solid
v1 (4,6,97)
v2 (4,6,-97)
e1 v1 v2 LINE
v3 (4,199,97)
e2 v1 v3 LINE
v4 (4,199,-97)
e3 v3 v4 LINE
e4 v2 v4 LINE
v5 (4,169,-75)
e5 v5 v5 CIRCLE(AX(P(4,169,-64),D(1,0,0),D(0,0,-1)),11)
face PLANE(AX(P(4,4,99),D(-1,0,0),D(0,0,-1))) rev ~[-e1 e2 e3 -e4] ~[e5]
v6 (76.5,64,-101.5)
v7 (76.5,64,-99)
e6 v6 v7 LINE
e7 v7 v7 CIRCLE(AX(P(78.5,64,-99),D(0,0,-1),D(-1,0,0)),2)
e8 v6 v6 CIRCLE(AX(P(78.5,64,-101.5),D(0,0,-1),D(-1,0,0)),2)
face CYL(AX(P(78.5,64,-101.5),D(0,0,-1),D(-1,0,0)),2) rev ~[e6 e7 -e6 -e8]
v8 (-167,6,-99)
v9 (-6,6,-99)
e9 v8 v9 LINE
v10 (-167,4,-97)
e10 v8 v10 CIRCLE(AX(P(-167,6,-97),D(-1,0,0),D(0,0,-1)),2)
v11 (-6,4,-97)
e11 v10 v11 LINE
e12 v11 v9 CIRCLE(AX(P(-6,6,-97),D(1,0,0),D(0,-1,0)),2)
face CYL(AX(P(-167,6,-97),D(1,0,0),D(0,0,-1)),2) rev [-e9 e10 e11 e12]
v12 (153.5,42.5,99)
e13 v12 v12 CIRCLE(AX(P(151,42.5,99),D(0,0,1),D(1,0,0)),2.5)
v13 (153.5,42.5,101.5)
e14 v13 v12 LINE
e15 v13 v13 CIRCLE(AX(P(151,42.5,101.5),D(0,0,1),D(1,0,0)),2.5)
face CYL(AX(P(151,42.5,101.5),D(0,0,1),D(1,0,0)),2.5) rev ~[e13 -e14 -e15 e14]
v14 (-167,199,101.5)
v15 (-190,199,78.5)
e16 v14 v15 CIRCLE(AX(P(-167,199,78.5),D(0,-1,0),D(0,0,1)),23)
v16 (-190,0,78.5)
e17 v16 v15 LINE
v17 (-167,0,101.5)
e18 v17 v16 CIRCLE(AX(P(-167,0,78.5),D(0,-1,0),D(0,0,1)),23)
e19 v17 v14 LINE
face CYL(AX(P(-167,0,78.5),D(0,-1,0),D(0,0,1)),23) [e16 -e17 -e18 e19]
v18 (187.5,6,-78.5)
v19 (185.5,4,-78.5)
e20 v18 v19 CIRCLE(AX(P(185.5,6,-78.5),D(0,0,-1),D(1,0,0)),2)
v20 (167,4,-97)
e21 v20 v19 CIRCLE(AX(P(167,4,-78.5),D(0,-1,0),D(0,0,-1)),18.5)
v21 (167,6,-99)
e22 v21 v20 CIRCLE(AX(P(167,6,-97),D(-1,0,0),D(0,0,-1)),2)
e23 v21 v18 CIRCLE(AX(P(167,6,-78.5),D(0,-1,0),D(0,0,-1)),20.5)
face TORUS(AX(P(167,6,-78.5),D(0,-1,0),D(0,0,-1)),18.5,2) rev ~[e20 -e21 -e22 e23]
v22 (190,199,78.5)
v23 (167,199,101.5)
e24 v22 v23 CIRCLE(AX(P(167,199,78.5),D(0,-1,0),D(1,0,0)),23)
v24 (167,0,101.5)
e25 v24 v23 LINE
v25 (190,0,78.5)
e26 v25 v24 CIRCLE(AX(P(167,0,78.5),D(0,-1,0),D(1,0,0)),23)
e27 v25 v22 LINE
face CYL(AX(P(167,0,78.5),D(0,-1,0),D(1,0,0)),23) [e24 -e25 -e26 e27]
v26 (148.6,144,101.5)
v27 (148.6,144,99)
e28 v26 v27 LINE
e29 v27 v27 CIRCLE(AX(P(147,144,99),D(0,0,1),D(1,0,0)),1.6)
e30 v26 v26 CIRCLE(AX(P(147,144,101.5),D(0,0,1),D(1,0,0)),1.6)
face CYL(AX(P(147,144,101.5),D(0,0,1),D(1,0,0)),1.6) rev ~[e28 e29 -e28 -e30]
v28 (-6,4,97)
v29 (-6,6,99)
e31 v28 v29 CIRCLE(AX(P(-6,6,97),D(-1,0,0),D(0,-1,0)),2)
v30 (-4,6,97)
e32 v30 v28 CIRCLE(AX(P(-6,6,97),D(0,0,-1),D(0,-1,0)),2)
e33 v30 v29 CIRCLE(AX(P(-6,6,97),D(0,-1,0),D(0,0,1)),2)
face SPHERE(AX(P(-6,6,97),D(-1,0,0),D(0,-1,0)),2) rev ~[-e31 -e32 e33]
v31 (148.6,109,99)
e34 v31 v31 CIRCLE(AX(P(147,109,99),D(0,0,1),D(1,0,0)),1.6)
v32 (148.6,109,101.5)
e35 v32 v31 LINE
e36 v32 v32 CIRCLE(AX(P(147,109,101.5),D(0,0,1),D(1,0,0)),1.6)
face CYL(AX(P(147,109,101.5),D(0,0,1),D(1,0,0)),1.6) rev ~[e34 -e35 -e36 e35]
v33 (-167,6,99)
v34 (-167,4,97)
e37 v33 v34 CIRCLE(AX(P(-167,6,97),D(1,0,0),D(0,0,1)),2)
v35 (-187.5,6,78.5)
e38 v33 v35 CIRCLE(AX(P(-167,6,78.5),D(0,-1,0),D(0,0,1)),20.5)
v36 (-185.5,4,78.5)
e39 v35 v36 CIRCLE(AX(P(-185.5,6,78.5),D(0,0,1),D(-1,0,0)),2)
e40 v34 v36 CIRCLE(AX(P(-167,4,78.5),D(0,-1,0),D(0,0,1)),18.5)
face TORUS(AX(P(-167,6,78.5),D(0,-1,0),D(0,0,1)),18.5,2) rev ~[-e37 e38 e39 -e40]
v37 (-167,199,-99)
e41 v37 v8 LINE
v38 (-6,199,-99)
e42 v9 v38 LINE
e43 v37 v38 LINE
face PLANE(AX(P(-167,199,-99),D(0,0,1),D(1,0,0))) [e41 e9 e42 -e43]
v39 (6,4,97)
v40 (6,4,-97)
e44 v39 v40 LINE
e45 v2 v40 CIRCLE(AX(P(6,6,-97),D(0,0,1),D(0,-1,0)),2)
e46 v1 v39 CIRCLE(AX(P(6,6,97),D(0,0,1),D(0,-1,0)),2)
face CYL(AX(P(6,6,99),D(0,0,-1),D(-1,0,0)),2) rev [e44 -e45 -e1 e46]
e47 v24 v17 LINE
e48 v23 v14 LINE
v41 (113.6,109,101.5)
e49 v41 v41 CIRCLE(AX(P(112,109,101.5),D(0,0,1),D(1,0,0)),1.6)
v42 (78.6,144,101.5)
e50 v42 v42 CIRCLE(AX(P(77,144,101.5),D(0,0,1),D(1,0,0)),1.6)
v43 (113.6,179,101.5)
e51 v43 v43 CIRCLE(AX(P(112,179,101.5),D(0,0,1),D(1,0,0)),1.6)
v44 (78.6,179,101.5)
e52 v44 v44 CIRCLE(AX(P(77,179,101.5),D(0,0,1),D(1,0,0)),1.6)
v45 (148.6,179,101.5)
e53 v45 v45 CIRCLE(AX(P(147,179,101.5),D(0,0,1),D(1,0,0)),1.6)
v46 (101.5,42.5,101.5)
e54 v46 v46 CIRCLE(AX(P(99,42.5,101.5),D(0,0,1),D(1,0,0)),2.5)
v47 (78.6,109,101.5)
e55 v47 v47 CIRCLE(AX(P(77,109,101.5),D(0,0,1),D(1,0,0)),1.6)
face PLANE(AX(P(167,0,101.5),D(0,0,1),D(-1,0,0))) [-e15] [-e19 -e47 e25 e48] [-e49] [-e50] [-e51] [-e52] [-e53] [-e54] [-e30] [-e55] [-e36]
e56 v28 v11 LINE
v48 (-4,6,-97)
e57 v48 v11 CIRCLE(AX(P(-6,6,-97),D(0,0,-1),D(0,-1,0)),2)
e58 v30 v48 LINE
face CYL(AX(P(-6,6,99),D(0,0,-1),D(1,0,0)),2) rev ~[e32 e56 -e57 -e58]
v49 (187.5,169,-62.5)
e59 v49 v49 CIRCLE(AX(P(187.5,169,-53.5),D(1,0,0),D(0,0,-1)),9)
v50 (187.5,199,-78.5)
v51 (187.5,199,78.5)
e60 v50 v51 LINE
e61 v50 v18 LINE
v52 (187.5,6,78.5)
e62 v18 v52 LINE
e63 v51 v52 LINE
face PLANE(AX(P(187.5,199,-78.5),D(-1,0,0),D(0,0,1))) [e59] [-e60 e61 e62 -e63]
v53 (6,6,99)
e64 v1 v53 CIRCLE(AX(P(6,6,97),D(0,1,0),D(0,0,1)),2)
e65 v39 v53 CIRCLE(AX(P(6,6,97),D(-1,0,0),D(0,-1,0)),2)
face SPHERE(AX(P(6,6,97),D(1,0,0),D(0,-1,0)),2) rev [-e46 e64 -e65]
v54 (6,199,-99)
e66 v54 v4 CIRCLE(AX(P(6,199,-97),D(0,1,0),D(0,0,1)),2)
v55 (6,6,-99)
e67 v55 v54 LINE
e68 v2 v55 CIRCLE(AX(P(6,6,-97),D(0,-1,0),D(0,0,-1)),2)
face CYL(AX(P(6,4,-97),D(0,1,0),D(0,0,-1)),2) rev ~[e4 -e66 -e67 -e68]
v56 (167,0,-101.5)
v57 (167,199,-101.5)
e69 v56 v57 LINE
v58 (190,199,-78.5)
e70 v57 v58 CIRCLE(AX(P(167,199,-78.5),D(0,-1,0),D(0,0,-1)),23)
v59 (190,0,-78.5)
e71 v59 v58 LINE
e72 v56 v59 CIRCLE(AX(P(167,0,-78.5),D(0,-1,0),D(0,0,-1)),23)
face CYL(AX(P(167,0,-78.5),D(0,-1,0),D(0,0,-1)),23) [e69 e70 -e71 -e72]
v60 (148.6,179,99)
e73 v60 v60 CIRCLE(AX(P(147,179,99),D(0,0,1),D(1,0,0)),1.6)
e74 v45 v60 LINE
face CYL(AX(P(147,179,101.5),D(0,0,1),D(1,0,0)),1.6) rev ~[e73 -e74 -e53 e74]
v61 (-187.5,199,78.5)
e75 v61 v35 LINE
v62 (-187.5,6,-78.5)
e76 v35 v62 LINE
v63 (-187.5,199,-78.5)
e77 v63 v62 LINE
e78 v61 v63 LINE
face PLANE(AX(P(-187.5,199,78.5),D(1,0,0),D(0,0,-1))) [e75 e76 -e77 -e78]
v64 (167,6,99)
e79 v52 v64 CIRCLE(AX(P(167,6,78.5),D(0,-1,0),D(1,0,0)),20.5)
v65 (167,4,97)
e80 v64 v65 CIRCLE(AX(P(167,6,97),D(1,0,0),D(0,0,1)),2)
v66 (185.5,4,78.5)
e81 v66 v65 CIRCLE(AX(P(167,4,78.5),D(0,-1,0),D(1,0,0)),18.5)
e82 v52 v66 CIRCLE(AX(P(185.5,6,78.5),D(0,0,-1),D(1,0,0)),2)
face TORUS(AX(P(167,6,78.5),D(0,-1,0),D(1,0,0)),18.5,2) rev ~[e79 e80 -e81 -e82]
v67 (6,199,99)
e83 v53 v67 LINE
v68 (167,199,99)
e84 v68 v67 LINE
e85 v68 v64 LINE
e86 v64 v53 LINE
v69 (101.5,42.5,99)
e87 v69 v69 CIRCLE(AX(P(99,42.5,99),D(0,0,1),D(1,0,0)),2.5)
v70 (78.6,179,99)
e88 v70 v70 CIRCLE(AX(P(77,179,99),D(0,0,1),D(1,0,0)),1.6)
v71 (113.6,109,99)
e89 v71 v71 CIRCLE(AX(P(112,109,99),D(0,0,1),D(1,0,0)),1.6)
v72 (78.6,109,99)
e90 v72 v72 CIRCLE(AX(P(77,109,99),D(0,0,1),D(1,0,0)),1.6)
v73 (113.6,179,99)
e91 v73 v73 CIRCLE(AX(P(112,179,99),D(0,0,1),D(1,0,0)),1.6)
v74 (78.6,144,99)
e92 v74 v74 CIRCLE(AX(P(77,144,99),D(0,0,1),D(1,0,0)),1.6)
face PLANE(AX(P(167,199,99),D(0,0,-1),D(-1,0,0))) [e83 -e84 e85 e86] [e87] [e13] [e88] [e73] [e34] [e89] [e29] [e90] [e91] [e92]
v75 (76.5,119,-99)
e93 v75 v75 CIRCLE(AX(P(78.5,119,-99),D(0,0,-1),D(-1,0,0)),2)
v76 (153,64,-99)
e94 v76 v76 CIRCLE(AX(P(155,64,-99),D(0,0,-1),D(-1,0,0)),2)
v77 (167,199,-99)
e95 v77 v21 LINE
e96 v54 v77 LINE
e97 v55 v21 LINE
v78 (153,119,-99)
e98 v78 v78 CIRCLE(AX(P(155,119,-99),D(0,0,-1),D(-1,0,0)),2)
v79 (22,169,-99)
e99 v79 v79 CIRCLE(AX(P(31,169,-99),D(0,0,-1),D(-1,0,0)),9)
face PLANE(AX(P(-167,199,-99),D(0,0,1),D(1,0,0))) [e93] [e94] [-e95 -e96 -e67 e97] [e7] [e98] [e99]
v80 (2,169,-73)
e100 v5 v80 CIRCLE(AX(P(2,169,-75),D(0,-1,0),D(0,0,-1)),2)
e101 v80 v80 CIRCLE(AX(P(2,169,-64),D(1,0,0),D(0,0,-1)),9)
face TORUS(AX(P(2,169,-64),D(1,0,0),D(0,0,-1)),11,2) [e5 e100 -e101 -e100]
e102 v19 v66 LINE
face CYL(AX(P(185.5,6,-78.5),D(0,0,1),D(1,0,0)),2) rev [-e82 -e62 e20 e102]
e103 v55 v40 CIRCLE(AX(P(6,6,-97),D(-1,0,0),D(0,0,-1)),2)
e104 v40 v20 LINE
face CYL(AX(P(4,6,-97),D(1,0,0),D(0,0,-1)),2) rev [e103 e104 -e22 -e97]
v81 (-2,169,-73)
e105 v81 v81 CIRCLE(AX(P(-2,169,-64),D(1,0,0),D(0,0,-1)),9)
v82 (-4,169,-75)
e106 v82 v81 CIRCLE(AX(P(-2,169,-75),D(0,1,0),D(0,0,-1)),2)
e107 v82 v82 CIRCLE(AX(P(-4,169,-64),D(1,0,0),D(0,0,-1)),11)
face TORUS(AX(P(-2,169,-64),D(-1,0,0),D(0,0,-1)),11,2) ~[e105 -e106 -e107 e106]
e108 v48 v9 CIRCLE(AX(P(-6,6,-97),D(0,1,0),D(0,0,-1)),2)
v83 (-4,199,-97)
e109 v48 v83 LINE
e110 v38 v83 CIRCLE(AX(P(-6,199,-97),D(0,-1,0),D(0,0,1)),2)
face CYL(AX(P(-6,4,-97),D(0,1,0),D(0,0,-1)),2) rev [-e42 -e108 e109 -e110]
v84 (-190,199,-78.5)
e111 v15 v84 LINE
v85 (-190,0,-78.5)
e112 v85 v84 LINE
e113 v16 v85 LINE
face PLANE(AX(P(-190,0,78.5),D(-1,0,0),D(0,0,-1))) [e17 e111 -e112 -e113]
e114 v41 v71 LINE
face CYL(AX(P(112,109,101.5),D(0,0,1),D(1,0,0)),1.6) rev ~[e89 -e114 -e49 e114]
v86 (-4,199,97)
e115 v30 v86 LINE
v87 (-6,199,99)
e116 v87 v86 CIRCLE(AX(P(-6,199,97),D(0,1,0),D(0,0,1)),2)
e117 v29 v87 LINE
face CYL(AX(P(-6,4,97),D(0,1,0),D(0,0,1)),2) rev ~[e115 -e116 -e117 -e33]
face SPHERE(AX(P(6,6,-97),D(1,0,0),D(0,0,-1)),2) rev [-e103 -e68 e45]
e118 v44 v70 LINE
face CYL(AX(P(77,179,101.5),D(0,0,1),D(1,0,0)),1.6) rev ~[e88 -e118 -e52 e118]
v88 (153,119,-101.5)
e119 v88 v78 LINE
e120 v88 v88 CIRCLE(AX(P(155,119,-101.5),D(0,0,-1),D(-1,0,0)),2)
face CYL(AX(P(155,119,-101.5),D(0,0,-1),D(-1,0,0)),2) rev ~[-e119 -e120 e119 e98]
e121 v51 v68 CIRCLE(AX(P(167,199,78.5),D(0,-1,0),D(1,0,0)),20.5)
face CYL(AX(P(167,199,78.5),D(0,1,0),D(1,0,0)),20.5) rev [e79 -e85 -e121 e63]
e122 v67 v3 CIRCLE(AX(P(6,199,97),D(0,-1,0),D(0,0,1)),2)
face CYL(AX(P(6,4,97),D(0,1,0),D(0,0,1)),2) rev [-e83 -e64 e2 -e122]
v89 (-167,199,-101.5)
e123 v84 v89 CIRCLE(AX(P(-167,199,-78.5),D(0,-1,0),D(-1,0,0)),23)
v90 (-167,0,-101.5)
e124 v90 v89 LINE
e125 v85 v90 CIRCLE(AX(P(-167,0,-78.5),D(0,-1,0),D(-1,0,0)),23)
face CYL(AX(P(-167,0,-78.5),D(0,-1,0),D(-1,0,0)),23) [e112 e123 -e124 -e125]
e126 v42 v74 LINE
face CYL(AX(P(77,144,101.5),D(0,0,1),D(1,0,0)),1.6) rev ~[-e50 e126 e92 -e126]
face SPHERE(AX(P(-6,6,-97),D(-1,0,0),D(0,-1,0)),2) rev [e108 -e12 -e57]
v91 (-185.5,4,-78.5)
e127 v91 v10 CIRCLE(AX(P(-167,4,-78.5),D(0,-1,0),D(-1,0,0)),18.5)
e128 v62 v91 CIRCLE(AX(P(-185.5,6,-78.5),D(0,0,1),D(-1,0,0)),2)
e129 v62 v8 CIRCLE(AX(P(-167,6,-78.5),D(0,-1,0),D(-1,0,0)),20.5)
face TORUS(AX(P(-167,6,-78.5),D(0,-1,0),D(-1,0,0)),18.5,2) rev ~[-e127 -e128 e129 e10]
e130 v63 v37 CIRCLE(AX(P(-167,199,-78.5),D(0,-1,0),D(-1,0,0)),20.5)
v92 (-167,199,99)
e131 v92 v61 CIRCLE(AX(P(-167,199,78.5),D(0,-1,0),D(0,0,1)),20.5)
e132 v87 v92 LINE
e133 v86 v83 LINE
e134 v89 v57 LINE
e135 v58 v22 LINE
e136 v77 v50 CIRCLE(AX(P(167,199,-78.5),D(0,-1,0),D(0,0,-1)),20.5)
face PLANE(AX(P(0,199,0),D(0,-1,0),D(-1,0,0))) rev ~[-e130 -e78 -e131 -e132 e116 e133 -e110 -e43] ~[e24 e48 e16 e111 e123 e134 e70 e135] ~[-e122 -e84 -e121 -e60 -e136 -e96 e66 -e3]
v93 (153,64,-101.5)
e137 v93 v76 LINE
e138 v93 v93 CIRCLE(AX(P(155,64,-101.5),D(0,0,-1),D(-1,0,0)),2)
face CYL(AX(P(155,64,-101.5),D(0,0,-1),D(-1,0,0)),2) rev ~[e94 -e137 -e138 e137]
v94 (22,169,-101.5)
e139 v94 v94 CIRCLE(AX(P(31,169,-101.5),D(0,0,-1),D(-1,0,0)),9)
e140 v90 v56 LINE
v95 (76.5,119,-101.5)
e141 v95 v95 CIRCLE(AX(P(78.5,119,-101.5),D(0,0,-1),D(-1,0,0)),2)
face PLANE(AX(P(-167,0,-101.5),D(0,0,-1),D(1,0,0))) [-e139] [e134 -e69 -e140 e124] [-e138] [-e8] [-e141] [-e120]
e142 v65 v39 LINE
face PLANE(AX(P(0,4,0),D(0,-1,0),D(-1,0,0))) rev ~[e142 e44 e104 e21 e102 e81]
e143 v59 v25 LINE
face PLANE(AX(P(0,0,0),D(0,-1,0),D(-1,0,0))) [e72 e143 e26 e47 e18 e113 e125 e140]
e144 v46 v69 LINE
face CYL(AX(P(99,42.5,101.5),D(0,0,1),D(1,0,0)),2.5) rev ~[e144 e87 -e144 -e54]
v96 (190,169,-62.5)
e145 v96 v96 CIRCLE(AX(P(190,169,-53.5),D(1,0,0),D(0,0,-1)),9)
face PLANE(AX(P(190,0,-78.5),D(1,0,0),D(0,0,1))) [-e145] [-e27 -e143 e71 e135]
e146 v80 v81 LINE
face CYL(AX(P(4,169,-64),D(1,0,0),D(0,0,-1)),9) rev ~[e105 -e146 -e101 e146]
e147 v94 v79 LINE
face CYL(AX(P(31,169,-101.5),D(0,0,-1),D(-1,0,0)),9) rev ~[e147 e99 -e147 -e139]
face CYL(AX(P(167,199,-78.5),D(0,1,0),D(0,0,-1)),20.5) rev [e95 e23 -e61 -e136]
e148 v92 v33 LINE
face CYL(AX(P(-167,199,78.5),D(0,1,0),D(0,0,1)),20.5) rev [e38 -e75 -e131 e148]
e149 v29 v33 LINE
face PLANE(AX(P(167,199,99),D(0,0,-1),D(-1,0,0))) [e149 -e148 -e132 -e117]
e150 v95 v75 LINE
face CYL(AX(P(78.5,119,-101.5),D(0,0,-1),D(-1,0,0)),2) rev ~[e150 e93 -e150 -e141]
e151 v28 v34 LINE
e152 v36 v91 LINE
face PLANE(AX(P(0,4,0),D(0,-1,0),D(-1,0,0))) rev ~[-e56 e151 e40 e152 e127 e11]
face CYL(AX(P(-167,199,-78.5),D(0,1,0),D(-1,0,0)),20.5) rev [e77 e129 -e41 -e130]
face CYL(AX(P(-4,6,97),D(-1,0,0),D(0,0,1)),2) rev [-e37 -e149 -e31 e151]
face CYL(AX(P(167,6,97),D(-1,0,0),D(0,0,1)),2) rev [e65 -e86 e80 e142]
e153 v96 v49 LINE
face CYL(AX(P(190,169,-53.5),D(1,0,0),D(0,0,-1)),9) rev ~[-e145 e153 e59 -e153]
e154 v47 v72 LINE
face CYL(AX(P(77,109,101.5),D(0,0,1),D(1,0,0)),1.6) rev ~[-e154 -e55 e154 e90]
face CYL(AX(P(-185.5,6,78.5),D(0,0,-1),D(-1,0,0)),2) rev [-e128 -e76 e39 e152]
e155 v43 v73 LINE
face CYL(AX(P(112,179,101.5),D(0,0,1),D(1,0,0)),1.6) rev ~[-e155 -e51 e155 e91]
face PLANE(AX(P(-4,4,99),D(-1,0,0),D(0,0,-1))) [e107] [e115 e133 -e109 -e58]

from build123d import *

# Parameters (mm, degrees)
EXTRUDE_1_DEPTH     = 199
CUT_EXTRUDE_1_DEPTH = 195
SKETCH_4_W          = 8
SKETCH_4_H          = 198
EXTRUDE_2_DEPTH     = 195
FILLET_1_R          = 2
CUT_EXTRUDE_2_REACH = 343.921
SKETCH_6_R          = 2
SKETCH_6_R_2        = 9
CUT_EXTRUDE_3_REACH = 297.87
SKETCH_7_R          = 9
FILLET_2_R          = 2
CUT_EXTRUDE_4_REACH = 442.798
SKETCH_9_R          = 9
CUT_EXTRUDE_5_REACH = 343.921
SKETCH_11_R         = 1.6
CUT_EXTRUDE_6_REACH = 343.921
SKETCH_12_R         = 1.6
CUT_EXTRUDE_7_REACH = 343.921
SKETCH_13_R         = 2.5


with BuildPart() as part:
    # 草图1 → 凸台-拉伸1 (new body)
    with BuildSketch(Plane(origin=(0, 0, 0), x_dir=(1, 0, 0), z_dir=(0, 1, 0))):
        with BuildLine():
            Line((-167, 101.5), (167, 101.5))
            ThreePointArc((167, 101.5), (183.263455967, 94.763455967), (190, 78.5))
            Line((190, 78.5), (190, -78.5))
            ThreePointArc((190, -78.5), (183.263455967, -94.763455967), (167, -101.5))
            Line((167, -101.5), (-167, -101.5))
            ThreePointArc((-167, -101.5), (-183.263455967, -94.763455967), (-190, -78.5))
            Line((-190, -78.5), (-190, 78.5))
            ThreePointArc((-190, 78.5), (-183.263455967, 94.763455967), (-167, 101.5))
        make_face()
    extrude(amount=EXTRUDE_1_DEPTH)

    # 草图3 → 切除-拉伸1 (cut)
    with BuildSketch(Plane(origin=(0, 199, 0), x_dir=(1, 0, 0), z_dir=(0, 1, 0))):
        with BuildLine():
            Line((-167, 99), (167, 99))
            ThreePointArc((167, 99), (181.495689014, 92.995689014), (187.5, 78.5))
            Line((187.5, 78.5), (187.5, -78.5))
            ThreePointArc((187.5, -78.5), (181.495689014, -92.995689014), (167, -99))
            Line((167, -99), (-167, -99))
            ThreePointArc((-167, -99), (-181.495689014, -92.995689014), (-187.5, -78.5))
            Line((-187.5, -78.5), (-187.5, 78.5))
            ThreePointArc((-187.5, 78.5), (-181.495689014, 92.995689014), (-167, 99))
        make_face()
    extrude(amount=-CUT_EXTRUDE_1_DEPTH, mode=Mode.SUBTRACT)

    # 草图4 → 凸台-拉伸2 (add)
    with BuildSketch(Plane(origin=(0, 4, 0), x_dir=(1, 0, 0), z_dir=(0, 1, 0))):
        Rectangle(SKETCH_4_W, SKETCH_4_H)
    extrude(amount=EXTRUDE_2_DEPTH)

    # 圆角1
    fillet_1_edges = [part.edges().sort_by_distance(p)[0] for p in [
        (-181.495689014, 4, 92.995689014),
        (-187.5, 4, 0),
        (-181.495689014, 4, -92.995689014),
        (85.5, 4, -99),
        (181.495689014, 4, -92.995689014),
        (187.5, 4, 0),
        (181.495689014, 4, 92.995689014),
        (-85.5, 4, 99),
        (85.5, 4, 99),
        (-85.5, 4, -99),
        (4, 101.5, -99),
        (-4, 4, 0),
        (-4, 101.5, -99),
        (-4, 101.5, 99),
        (4, 4, 0),
        (4, 101.5, 99),
    ]]
    fillet(fillet_1_edges, radius=FILLET_1_R)

    # 草图6 → 切除-拉伸2 (cut, up to next)
    with BuildSketch(Plane(origin=(0, 0, -101.5), x_dir=(-1, 0, 0), z_dir=(0, 0, -1)), mode=Mode.PRIVATE) as cut_extrude_2_sk1:
        with Locations((-155, 119)):
            Circle(SKETCH_6_R)
    cut_extrude_2_tool1 = extrude(cut_extrude_2_sk1.sketch, amount=-CUT_EXTRUDE_2_REACH, mode=Mode.PRIVATE) & part.part
    # 草图6 → 切除-拉伸2 (cut, up to next)
    with BuildSketch(Plane(origin=(0, 0, -101.5), x_dir=(-1, 0, 0), z_dir=(0, 0, -1)), mode=Mode.PRIVATE) as cut_extrude_2_sk2:
        with Locations((-155, 64)):
            Circle(SKETCH_6_R)
    cut_extrude_2_tool2 = extrude(cut_extrude_2_sk2.sketch, amount=-CUT_EXTRUDE_2_REACH, mode=Mode.PRIVATE) & part.part
    # 草图6 → 切除-拉伸2 (cut, up to next)
    with BuildSketch(Plane(origin=(0, 0, -101.5), x_dir=(-1, 0, 0), z_dir=(0, 0, -1)), mode=Mode.PRIVATE) as cut_extrude_2_sk3:
        with Locations((-78.5, 64)):
            Circle(SKETCH_6_R)
    cut_extrude_2_tool3 = extrude(cut_extrude_2_sk3.sketch, amount=-CUT_EXTRUDE_2_REACH, mode=Mode.PRIVATE) & part.part
    # 草图6 → 切除-拉伸2 (cut, up to next)
    with BuildSketch(Plane(origin=(0, 0, -101.5), x_dir=(-1, 0, 0), z_dir=(0, 0, -1)), mode=Mode.PRIVATE) as cut_extrude_2_sk4:
        with Locations((-78.5, 119)):
            Circle(SKETCH_6_R)
    cut_extrude_2_tool4 = extrude(cut_extrude_2_sk4.sketch, amount=-CUT_EXTRUDE_2_REACH, mode=Mode.PRIVATE) & part.part
    # 草图6 → 切除-拉伸2 (cut, up to next)
    with BuildSketch(Plane(origin=(0, 0, -101.5), x_dir=(-1, 0, 0), z_dir=(0, 0, -1)), mode=Mode.PRIVATE) as cut_extrude_2_sk5:
        with Locations((-31, 169)):
            Circle(SKETCH_6_R_2)
    cut_extrude_2_tool5 = extrude(cut_extrude_2_sk5.sketch, amount=-CUT_EXTRUDE_2_REACH, mode=Mode.PRIVATE) & part.part
    add(cut_extrude_2_tool1.solids().sort_by_distance((155, 119, -101.5))[0], mode=Mode.SUBTRACT)
    add(cut_extrude_2_tool2.solids().sort_by_distance((155, 64, -101.5))[0], mode=Mode.SUBTRACT)
    add(cut_extrude_2_tool3.solids().sort_by_distance((78.5, 64, -101.5))[0], mode=Mode.SUBTRACT)
    add(cut_extrude_2_tool4.solids().sort_by_distance((78.5, 119, -101.5))[0], mode=Mode.SUBTRACT)
    add(cut_extrude_2_tool5.solids().sort_by_distance((31, 169, -101.5))[0], mode=Mode.SUBTRACT)

    # 草图7 → 切除-拉伸3 (cut, up to next)
    with BuildSketch(Plane(origin=(4, 0, 0), x_dir=(0, 0, -1), z_dir=(1, 0, 0)), mode=Mode.PRIVATE) as cut_extrude_3_sk1:
        with Locations((64, 169)):
            Circle(SKETCH_7_R)
    cut_extrude_3_tool1 = extrude(cut_extrude_3_sk1.sketch, amount=-CUT_EXTRUDE_3_REACH, mode=Mode.PRIVATE) & part.part
    add(cut_extrude_3_tool1.solids().sort_by_distance((4, 169, -64))[0], mode=Mode.SUBTRACT)

    # 圆角2
    fillet_2_edges = [part.edges().sort_by_distance(p)[0] for p in [
        (-4, 169, -55),
        (4, 169, -55),
    ]]
    fillet(fillet_2_edges, radius=FILLET_2_R)

    # 草图9 → 切除-拉伸4 (cut, up to next)
    with BuildSketch(Plane(origin=(190, 0, 0), x_dir=(0, 0, -1), z_dir=(1, 0, 0)), mode=Mode.PRIVATE) as cut_extrude_4_sk1:
        with Locations((53.5, 169)):
            Circle(SKETCH_9_R)
    cut_extrude_4_tool1 = extrude(cut_extrude_4_sk1.sketch, amount=-CUT_EXTRUDE_4_REACH, mode=Mode.PRIVATE) & part.part
    add(cut_extrude_4_tool1.solids().sort_by_distance((190, 169, -53.5))[0], mode=Mode.SUBTRACT)

    # 草图11 → 切除-拉伸5 (cut, up to next)
    with BuildSketch(Plane.XY.offset(101.5), mode=Mode.PRIVATE) as cut_extrude_5_sk1:
        with Locations((77, 179)):
            Circle(SKETCH_11_R)
    cut_extrude_5_tool1 = extrude(cut_extrude_5_sk1.sketch, amount=-CUT_EXTRUDE_5_REACH, mode=Mode.PRIVATE) & part.part
    # 草图11 → 切除-拉伸5 (cut, up to next)
    with BuildSketch(Plane.XY.offset(101.5), mode=Mode.PRIVATE) as cut_extrude_5_sk2:
        with Locations((147, 179)):
            Circle(SKETCH_11_R)
    cut_extrude_5_tool2 = extrude(cut_extrude_5_sk2.sketch, amount=-CUT_EXTRUDE_5_REACH, mode=Mode.PRIVATE) & part.part
    # 草图11 → 切除-拉伸5 (cut, up to next)
    with BuildSketch(Plane.XY.offset(101.5), mode=Mode.PRIVATE) as cut_extrude_5_sk3:
        with Locations((77, 109)):
            Circle(SKETCH_11_R)
    cut_extrude_5_tool3 = extrude(cut_extrude_5_sk3.sketch, amount=-CUT_EXTRUDE_5_REACH, mode=Mode.PRIVATE) & part.part
    # 草图11 → 切除-拉伸5 (cut, up to next)
    with BuildSketch(Plane.XY.offset(101.5), mode=Mode.PRIVATE) as cut_extrude_5_sk4:
        with Locations((147, 109)):
            Circle(SKETCH_11_R)
    cut_extrude_5_tool4 = extrude(cut_extrude_5_sk4.sketch, amount=-CUT_EXTRUDE_5_REACH, mode=Mode.PRIVATE) & part.part
    add(cut_extrude_5_tool1.solids().sort_by_distance((77, 179, 101.5))[0], mode=Mode.SUBTRACT)
    add(cut_extrude_5_tool2.solids().sort_by_distance((147, 179, 101.5))[0], mode=Mode.SUBTRACT)
    add(cut_extrude_5_tool3.solids().sort_by_distance((77, 109, 101.5))[0], mode=Mode.SUBTRACT)
    add(cut_extrude_5_tool4.solids().sort_by_distance((147, 109, 101.5))[0], mode=Mode.SUBTRACT)

    # 草图12 → 切除-拉伸6 (cut, up to next)
    with BuildSketch(Plane.XY.offset(101.5), mode=Mode.PRIVATE) as cut_extrude_6_sk1:
        with Locations((77, 144)):
            Circle(SKETCH_12_R)
    cut_extrude_6_tool1 = extrude(cut_extrude_6_sk1.sketch, amount=-CUT_EXTRUDE_6_REACH, mode=Mode.PRIVATE) & part.part
    # 草图12 → 切除-拉伸6 (cut, up to next)
    with BuildSketch(Plane.XY.offset(101.5), mode=Mode.PRIVATE) as cut_extrude_6_sk2:
        with Locations((112, 179)):
            Circle(SKETCH_12_R)
    cut_extrude_6_tool2 = extrude(cut_extrude_6_sk2.sketch, amount=-CUT_EXTRUDE_6_REACH, mode=Mode.PRIVATE) & part.part
    # 草图12 → 切除-拉伸6 (cut, up to next)
    with BuildSketch(Plane.XY.offset(101.5), mode=Mode.PRIVATE) as cut_extrude_6_sk3:
        with Locations((147, 144)):
            Circle(SKETCH_12_R)
    cut_extrude_6_tool3 = extrude(cut_extrude_6_sk3.sketch, amount=-CUT_EXTRUDE_6_REACH, mode=Mode.PRIVATE) & part.part
    # 草图12 → 切除-拉伸6 (cut, up to next)
    with BuildSketch(Plane.XY.offset(101.5), mode=Mode.PRIVATE) as cut_extrude_6_sk4:
        with Locations((112, 109)):
            Circle(SKETCH_12_R)
    cut_extrude_6_tool4 = extrude(cut_extrude_6_sk4.sketch, amount=-CUT_EXTRUDE_6_REACH, mode=Mode.PRIVATE) & part.part
    add(cut_extrude_6_tool1.solids().sort_by_distance((77, 144, 101.5))[0], mode=Mode.SUBTRACT)
    add(cut_extrude_6_tool2.solids().sort_by_distance((112, 179, 101.5))[0], mode=Mode.SUBTRACT)
    add(cut_extrude_6_tool3.solids().sort_by_distance((147, 144, 101.5))[0], mode=Mode.SUBTRACT)
    add(cut_extrude_6_tool4.solids().sort_by_distance((112, 109, 101.5))[0], mode=Mode.SUBTRACT)

    # 草图13 → 切除-拉伸7 (cut, up to next)
    with BuildSketch(Plane.XY.offset(101.5), mode=Mode.PRIVATE) as cut_extrude_7_sk1:
        with Locations((99, 42.5)):
            Circle(SKETCH_13_R)
    cut_extrude_7_tool1 = extrude(cut_extrude_7_sk1.sketch, amount=-CUT_EXTRUDE_7_REACH, mode=Mode.PRIVATE) & part.part
    # 草图13 → 切除-拉伸7 (cut, up to next)
    with BuildSketch(Plane.XY.offset(101.5), mode=Mode.PRIVATE) as cut_extrude_7_sk2:
        with Locations((151, 42.5)):
            Circle(SKETCH_13_R)
    cut_extrude_7_tool2 = extrude(cut_extrude_7_sk2.sketch, amount=-CUT_EXTRUDE_7_REACH, mode=Mode.PRIVATE) & part.part
    add(cut_extrude_7_tool1.solids().sort_by_distance((99, 42.5, 101.5))[0], mode=Mode.SUBTRACT)
    add(cut_extrude_7_tool2.solids().sort_by_distance((151, 42.5, 101.5))[0], mode=Mode.SUBTRACT)


solid = part.part
